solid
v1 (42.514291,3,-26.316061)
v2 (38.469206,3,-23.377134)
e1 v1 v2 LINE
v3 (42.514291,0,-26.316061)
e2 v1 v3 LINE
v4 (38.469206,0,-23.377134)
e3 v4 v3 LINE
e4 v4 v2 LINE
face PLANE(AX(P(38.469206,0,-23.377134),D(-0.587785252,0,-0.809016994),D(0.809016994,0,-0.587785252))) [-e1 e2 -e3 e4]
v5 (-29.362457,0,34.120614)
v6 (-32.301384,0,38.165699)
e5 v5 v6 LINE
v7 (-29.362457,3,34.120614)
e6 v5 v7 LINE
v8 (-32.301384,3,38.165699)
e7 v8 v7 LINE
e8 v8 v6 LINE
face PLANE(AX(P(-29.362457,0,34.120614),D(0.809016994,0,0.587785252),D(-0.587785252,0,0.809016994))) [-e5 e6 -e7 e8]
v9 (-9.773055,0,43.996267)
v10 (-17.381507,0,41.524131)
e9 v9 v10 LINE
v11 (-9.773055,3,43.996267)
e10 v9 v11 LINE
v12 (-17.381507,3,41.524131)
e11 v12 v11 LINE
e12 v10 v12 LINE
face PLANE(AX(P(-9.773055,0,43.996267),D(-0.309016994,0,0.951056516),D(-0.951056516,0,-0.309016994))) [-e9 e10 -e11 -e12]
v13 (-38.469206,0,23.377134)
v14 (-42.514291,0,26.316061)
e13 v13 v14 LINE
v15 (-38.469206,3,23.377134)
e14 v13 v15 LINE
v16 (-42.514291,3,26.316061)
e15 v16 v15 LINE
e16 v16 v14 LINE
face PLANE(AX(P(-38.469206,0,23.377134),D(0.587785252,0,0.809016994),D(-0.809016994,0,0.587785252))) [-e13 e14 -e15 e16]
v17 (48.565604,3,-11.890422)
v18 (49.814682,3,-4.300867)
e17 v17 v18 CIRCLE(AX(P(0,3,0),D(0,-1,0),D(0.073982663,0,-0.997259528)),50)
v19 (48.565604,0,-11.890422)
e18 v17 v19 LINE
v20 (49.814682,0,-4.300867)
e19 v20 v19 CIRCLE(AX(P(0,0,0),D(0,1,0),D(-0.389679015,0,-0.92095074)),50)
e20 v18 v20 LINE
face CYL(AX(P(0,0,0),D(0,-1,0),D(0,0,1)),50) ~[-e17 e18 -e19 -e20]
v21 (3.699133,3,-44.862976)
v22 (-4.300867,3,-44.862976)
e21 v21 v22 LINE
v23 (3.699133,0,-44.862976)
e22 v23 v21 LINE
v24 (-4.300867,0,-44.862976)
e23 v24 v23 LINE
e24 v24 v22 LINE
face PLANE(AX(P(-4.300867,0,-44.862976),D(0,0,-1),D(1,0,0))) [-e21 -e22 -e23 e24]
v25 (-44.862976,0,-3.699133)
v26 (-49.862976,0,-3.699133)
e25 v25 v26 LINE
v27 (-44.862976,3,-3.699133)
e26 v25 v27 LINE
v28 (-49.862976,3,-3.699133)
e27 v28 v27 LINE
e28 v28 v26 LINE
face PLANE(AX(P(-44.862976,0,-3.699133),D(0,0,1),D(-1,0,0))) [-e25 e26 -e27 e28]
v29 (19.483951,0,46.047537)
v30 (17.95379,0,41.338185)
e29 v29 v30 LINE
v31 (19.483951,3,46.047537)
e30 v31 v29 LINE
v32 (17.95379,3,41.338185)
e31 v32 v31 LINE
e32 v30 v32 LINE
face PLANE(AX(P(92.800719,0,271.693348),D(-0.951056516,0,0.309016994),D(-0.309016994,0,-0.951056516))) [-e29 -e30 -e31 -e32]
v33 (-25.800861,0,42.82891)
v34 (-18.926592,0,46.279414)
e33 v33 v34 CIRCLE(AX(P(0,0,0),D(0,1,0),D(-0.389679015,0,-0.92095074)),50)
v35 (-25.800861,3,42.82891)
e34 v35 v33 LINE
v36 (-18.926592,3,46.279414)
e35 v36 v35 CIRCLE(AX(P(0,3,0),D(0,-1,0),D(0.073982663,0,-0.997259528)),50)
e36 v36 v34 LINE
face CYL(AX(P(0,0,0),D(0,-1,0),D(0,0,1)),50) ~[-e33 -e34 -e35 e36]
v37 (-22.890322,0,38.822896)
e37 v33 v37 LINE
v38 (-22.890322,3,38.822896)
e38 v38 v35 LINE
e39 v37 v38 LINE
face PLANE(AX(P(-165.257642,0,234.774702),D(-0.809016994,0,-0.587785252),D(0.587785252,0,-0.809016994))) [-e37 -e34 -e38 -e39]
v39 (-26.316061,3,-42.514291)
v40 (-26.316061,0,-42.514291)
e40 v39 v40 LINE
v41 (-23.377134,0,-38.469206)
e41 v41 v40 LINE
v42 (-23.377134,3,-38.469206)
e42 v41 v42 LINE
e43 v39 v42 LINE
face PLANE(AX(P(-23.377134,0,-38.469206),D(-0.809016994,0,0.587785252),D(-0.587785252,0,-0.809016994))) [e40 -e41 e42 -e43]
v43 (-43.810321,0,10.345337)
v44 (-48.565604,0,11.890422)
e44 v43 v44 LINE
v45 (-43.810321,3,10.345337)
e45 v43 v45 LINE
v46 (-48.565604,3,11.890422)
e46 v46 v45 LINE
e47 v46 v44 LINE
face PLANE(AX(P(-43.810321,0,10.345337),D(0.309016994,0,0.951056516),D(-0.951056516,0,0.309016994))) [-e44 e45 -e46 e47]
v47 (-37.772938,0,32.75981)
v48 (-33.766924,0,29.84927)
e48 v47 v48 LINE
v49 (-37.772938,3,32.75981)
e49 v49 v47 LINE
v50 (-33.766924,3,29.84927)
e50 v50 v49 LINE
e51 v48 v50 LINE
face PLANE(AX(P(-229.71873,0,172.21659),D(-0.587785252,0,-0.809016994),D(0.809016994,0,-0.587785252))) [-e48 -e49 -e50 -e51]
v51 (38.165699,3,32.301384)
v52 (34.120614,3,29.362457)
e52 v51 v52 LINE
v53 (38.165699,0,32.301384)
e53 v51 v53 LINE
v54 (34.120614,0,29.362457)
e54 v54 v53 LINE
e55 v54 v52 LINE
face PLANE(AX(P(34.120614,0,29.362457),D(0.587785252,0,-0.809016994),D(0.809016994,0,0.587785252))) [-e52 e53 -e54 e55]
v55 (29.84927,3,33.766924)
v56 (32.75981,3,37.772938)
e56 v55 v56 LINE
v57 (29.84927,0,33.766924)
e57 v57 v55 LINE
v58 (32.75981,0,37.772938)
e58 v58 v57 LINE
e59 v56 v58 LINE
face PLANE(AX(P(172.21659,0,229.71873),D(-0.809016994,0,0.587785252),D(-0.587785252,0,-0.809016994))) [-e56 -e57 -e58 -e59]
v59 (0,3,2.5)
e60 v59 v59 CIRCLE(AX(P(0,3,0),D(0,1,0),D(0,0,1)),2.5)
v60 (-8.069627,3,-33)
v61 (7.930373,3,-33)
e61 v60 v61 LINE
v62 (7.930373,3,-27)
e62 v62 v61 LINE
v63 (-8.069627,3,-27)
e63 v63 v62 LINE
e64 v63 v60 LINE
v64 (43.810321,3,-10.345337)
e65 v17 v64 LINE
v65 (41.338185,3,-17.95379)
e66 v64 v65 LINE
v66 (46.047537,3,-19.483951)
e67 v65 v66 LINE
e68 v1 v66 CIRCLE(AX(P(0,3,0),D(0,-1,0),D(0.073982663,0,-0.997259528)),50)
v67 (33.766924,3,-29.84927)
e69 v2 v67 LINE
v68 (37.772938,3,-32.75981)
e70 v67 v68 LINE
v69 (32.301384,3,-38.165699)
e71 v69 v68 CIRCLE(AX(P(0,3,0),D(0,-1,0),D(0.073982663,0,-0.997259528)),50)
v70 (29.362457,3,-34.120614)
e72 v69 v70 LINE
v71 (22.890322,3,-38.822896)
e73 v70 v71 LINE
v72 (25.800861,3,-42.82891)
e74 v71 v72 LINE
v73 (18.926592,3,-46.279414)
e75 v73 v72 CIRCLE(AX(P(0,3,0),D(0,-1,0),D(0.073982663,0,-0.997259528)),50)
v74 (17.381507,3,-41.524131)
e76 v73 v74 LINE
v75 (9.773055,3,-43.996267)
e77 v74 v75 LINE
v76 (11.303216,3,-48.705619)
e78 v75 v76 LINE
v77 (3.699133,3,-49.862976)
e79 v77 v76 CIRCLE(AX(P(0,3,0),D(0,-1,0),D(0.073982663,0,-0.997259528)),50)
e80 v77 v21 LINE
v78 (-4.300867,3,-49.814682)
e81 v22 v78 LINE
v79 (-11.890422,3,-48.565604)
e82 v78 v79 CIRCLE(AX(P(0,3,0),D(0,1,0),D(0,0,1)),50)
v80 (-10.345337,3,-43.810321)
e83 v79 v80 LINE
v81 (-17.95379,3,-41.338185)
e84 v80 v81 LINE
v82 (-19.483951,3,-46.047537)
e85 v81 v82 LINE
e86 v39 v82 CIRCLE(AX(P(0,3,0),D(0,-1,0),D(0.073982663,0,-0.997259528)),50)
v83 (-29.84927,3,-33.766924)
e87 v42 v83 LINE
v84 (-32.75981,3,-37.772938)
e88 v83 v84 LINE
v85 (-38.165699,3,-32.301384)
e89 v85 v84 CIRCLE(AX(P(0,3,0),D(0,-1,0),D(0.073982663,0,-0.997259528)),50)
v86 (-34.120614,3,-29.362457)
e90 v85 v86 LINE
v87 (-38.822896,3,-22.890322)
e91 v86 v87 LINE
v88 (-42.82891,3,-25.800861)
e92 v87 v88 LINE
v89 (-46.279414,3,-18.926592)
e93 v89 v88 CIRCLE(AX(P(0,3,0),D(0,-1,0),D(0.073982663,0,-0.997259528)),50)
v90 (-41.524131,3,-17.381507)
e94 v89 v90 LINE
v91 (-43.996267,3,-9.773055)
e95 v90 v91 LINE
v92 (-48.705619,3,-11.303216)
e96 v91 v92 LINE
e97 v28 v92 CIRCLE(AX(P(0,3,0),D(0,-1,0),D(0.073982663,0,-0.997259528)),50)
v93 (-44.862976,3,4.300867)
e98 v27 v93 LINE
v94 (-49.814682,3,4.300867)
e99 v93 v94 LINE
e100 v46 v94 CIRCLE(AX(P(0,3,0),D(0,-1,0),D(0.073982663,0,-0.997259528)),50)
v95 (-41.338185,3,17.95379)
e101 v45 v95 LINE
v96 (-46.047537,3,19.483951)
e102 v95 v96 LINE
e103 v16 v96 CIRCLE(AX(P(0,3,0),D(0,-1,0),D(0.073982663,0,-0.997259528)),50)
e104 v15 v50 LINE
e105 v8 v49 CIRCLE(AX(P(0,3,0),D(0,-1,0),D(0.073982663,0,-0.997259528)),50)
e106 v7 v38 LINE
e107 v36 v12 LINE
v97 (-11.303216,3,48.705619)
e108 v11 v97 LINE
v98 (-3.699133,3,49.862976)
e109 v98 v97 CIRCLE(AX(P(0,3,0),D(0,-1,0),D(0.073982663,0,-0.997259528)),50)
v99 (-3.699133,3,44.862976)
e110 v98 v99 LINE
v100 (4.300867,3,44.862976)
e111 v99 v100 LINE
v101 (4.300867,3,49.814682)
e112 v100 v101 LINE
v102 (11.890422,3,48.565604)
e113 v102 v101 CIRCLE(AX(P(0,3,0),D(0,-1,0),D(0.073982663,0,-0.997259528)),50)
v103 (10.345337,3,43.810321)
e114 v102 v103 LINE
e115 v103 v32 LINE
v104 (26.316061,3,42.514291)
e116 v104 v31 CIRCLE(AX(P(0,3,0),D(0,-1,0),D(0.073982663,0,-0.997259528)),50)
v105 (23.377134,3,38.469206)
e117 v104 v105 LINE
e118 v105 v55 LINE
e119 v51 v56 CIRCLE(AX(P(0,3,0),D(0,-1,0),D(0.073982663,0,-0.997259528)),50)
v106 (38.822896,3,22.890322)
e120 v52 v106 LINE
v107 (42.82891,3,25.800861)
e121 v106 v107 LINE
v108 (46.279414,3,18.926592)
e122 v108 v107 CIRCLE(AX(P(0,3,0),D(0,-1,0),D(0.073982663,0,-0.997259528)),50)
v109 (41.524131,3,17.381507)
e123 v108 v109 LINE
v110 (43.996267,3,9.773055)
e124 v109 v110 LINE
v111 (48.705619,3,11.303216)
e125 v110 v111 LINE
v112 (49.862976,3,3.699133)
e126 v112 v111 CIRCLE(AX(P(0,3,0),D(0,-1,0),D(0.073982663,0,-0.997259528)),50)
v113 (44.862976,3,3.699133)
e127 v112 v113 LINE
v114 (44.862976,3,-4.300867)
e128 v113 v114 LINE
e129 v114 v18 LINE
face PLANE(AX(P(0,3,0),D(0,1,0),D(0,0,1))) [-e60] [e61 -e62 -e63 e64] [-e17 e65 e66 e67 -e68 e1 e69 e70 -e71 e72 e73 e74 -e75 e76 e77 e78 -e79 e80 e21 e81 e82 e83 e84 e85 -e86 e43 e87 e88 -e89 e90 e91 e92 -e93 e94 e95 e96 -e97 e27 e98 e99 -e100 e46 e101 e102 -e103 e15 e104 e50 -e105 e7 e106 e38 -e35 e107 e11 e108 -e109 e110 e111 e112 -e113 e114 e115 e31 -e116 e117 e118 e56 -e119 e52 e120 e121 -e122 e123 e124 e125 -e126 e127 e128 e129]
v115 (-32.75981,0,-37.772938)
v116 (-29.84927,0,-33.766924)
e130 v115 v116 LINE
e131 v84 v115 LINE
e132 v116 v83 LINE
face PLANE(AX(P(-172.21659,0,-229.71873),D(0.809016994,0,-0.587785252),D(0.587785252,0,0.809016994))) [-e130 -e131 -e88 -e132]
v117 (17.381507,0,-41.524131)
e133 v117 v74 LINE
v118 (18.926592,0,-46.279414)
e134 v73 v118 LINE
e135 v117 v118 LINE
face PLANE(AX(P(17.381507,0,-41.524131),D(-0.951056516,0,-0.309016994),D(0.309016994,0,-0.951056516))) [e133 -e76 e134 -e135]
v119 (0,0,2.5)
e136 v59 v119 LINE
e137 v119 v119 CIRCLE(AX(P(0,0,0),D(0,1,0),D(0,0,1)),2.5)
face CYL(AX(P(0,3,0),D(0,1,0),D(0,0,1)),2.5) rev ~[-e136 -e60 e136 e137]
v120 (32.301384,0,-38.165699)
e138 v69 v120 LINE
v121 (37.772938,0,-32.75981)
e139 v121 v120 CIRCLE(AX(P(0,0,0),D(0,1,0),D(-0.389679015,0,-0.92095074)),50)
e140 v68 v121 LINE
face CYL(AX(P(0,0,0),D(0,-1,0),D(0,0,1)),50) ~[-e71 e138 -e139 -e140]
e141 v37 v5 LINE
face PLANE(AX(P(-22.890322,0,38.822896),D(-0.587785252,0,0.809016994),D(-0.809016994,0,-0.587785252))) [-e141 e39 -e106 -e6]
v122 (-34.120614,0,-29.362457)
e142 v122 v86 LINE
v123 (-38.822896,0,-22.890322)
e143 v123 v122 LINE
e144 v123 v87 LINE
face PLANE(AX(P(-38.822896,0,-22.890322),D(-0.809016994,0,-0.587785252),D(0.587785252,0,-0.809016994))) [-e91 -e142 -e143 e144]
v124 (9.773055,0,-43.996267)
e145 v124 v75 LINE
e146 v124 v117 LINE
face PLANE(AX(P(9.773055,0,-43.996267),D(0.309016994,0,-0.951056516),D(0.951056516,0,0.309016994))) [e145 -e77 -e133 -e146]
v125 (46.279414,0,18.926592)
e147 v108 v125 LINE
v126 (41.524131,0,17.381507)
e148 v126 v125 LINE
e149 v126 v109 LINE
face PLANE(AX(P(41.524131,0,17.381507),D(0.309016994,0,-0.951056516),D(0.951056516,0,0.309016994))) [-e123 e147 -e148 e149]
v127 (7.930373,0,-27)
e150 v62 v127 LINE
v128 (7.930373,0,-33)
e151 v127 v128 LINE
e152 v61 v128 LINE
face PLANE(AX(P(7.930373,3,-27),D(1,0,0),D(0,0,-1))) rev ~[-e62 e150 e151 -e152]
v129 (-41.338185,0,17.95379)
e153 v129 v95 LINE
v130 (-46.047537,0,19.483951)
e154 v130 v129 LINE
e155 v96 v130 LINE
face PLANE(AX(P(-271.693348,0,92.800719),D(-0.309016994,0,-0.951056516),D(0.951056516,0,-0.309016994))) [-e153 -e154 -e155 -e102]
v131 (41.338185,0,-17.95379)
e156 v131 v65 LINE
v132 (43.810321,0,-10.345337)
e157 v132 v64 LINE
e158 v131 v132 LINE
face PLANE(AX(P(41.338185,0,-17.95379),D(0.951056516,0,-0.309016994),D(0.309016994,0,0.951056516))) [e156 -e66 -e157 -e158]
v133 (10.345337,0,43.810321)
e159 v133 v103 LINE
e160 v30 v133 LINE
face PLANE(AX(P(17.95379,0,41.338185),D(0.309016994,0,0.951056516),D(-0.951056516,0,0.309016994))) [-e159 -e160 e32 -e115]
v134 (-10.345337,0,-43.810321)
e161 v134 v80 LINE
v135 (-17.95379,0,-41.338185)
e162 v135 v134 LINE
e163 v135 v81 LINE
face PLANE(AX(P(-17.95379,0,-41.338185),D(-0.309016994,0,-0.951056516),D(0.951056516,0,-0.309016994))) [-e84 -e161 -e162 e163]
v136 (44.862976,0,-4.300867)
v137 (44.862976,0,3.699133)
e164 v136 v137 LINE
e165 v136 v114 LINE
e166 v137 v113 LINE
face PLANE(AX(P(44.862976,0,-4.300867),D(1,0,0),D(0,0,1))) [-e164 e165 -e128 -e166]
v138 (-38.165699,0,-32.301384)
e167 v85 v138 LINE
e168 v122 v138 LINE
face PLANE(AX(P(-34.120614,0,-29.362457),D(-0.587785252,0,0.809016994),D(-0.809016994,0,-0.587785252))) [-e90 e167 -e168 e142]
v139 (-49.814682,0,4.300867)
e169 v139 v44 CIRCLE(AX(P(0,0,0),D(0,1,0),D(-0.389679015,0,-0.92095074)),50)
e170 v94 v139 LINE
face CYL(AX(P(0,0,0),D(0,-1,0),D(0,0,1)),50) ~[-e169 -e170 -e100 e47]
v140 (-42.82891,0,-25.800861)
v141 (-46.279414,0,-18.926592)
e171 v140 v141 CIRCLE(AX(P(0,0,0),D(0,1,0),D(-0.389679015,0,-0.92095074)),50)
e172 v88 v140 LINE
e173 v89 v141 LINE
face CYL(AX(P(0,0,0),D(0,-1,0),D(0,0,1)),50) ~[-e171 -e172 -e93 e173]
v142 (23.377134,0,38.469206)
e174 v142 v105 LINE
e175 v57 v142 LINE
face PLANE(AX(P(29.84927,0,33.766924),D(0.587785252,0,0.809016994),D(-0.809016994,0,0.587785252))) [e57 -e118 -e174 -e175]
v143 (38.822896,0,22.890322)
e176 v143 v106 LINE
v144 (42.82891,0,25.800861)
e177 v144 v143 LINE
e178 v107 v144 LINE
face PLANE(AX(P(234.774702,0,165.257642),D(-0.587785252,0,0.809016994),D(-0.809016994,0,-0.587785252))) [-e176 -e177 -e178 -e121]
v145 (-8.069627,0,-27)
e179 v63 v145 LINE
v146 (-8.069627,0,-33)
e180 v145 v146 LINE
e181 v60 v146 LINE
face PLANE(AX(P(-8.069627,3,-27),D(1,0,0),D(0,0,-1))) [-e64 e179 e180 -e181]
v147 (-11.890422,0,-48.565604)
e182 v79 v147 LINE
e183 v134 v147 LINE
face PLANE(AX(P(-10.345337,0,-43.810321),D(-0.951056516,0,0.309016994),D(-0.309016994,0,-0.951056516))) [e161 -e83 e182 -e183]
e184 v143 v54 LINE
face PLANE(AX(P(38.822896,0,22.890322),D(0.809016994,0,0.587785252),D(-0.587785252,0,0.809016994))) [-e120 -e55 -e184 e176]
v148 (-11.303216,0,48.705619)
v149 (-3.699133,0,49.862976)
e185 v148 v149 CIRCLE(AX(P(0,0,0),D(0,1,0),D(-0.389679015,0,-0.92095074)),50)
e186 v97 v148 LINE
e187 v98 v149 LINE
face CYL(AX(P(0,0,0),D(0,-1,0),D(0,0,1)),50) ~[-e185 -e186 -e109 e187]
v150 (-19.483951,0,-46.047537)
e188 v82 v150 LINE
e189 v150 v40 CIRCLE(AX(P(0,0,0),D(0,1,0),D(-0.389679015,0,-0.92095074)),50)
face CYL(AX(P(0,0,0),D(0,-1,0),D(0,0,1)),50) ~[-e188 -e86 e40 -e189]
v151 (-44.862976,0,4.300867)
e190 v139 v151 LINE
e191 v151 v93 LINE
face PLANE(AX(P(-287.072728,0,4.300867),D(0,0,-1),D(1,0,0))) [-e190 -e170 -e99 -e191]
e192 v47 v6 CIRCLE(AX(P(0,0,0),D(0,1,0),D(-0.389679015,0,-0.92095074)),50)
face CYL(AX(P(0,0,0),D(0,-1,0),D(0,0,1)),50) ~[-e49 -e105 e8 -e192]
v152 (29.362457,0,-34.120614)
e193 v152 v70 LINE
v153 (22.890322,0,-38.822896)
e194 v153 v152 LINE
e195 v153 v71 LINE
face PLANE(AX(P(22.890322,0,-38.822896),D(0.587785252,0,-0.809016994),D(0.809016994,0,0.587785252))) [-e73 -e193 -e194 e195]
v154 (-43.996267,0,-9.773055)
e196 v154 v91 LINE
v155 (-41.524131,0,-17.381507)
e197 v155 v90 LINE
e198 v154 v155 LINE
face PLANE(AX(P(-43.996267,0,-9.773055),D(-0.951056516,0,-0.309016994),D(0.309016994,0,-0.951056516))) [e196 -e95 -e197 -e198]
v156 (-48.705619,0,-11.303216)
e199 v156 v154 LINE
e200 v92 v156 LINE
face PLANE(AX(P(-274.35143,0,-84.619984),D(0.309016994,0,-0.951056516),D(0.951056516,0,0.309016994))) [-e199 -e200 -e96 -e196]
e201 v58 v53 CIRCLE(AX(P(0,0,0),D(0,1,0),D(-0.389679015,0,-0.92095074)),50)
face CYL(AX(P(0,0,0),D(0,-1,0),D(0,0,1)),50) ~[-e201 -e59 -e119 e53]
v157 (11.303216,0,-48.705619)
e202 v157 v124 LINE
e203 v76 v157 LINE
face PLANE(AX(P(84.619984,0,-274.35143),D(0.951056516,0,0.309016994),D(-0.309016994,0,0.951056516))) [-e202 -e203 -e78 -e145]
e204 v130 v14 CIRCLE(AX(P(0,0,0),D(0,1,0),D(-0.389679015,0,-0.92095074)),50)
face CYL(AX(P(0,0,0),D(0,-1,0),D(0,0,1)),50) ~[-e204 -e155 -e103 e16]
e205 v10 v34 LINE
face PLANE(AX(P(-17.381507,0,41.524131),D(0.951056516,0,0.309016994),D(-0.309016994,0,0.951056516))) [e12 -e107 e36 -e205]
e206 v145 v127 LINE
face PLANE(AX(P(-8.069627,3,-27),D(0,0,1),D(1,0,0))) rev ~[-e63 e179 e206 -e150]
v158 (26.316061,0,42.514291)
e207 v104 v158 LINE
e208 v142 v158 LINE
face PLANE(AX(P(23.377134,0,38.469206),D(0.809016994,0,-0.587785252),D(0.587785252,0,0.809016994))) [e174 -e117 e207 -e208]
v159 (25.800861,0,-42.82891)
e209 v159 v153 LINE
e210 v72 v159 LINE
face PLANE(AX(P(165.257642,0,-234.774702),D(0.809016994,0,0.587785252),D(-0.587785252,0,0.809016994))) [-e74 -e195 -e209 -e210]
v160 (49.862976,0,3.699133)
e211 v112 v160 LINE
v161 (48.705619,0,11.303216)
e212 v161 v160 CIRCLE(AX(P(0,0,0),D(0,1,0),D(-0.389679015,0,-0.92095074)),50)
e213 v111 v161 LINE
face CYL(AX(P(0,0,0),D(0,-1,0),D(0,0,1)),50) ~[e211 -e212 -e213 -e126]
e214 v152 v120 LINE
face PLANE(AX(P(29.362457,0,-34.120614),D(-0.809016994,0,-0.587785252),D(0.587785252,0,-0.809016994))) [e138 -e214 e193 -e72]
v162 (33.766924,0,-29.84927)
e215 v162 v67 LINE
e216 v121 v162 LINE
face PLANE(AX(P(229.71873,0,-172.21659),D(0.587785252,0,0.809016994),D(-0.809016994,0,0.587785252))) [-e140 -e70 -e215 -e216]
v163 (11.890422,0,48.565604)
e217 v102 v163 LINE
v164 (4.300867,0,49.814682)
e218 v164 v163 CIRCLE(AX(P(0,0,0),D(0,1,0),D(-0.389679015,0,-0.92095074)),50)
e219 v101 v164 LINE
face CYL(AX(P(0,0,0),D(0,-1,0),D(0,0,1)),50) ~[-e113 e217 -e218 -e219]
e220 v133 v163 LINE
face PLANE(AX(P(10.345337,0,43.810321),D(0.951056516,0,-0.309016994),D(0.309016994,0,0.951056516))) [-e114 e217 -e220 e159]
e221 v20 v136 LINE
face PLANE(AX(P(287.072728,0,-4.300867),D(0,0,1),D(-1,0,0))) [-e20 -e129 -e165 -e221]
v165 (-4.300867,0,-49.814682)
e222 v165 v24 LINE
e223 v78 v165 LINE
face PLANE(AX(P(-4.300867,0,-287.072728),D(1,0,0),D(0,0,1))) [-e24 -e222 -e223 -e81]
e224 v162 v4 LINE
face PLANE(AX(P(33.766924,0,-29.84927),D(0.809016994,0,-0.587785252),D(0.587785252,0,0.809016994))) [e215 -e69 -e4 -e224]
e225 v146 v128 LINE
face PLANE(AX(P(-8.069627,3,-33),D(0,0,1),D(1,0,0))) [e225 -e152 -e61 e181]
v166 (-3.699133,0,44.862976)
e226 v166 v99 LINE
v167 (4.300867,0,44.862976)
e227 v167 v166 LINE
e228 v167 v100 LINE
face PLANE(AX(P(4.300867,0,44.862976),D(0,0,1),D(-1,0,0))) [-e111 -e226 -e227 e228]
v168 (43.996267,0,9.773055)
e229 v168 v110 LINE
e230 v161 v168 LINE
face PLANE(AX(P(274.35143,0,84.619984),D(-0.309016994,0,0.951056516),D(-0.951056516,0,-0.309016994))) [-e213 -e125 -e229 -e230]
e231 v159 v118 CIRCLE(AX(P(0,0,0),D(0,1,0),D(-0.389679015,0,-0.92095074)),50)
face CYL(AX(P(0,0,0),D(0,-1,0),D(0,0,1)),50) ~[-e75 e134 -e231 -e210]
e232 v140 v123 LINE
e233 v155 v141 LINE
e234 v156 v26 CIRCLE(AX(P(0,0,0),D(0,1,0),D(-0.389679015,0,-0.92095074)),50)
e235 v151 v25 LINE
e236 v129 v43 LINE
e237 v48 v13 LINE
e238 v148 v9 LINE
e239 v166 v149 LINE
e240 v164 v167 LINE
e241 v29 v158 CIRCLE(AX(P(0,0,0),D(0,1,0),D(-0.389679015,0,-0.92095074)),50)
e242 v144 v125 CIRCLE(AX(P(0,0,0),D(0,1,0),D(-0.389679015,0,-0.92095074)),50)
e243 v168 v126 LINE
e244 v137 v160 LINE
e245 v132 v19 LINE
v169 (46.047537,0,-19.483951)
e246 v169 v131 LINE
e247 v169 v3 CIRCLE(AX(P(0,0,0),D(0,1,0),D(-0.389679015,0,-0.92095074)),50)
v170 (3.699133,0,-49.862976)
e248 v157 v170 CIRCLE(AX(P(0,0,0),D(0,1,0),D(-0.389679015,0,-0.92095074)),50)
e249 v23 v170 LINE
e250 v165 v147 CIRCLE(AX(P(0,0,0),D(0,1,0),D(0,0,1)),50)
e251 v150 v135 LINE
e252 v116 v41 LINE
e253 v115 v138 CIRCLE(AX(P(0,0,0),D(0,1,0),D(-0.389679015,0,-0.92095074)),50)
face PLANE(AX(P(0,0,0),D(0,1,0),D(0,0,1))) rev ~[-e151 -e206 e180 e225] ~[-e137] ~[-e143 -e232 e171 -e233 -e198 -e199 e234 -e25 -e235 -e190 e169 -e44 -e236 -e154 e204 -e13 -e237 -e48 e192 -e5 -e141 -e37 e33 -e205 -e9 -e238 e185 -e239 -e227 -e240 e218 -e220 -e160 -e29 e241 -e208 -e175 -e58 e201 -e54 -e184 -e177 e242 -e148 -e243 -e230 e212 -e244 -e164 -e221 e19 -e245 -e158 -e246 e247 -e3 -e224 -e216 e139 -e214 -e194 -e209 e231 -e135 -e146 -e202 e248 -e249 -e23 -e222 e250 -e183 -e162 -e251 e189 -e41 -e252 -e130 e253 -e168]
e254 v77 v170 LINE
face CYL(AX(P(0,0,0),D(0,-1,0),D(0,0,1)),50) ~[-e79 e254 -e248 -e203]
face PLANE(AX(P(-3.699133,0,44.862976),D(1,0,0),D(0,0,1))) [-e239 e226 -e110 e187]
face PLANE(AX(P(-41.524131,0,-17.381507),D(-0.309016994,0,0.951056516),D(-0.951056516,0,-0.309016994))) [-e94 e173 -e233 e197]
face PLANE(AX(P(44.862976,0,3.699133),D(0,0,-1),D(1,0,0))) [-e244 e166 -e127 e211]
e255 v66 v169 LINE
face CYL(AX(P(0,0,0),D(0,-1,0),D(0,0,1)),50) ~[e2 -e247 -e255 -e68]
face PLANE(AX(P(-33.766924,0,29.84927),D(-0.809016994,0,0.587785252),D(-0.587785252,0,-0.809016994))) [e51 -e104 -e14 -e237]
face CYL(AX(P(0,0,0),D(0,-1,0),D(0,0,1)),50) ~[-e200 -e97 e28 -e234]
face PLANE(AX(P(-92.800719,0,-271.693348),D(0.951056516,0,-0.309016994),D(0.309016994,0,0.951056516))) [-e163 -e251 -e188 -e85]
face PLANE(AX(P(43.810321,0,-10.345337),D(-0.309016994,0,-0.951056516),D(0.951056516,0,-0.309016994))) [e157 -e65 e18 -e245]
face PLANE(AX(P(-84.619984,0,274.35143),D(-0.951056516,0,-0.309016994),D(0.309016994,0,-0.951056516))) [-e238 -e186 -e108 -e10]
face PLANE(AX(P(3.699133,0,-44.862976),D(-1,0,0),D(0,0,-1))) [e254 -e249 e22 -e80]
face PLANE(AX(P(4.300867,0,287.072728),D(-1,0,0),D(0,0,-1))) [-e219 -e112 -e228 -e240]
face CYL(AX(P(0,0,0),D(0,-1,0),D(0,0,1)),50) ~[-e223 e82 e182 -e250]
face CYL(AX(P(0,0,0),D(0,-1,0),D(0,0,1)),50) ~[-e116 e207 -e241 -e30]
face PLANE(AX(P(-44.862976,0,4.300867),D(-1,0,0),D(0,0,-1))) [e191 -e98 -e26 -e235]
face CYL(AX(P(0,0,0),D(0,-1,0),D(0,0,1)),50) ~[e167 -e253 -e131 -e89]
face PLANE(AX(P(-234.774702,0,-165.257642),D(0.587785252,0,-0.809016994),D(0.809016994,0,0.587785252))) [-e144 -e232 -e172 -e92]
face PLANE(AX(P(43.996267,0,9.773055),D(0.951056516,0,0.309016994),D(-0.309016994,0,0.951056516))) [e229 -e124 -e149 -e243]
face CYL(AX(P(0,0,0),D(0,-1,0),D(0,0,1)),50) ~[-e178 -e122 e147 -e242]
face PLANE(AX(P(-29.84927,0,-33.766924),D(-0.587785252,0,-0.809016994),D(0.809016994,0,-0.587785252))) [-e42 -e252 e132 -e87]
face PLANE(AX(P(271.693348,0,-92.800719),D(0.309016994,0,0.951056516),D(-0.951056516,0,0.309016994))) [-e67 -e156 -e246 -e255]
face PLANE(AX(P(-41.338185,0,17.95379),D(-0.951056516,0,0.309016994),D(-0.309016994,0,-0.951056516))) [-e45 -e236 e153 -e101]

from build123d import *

# Parameters (mm, degrees)
SKETCH1_R           = 50
BOSS_EXTRUDE3_DEPTH = 3
SKETCH7_R           = 2.5
CUT_EXTRUDE1_DEPTH  = 3
CUT_EXTRUDE4_START  = -3
CUT_EXTRUDE4_DEPTH  = 74.774289117
CIRPATTERN5_COUNT   = 20
SKETCH9_W           = 16
SKETCH9_H           = 6
CUT_EXTRUDE5_DEPTH  = 3


with BuildPart() as part:
    # Sketch1 → Boss-Extrude3 (new body)
    with BuildSketch(Plane(origin=(0, 0, 0), x_dir=(1, 0, 0), z_dir=(0, 1, 0))):
        with Locations(Location((0, 0, 0), (0, 0, 270))):
            Circle(SKETCH1_R)
    extrude(amount=BOSS_EXTRUDE3_DEPTH)

    # Sketch7 → Cut-Extrude1 (cut)
    with BuildSketch(Plane(origin=(0, 3, 0), x_dir=(1, 0, 0), z_dir=(0, 1, 0))):
        with Locations(Location((0, 0, 0), (0, 0, 270))):
            Circle(SKETCH7_R)
    extrude(amount=-CUT_EXTRUDE1_DEPTH, mode=Mode.SUBTRACT)

    # Sketch8 → Cut-Extrude4 (cut)
    with BuildSketch(Plane(origin=(0, 3, 0), x_dir=(1, 0, 0), z_dir=(0, 1, 0)).offset(CUT_EXTRUDE4_START)):
        Polygon((-4.300866829, 287.072728165), (-4.300866829, 49.814682018), (-4.300866829, 44.862976383), (3.699133171, 44.862976383), (3.699133171, 49.862976383), (3.699133171, 287.12102253), (0.83462867, 761.628468689), (-7.16537133, 761.580174324), align=None)
    cut_extrude4 = extrude(amount=CUT_EXTRUDE4_DEPTH, mode=Mode.SUBTRACT)

    # CirPattern5: Cut-Extrude4 ×20 about axis
    cirpattern5_axis = Axis((0, 3, 0), (0, 1, 0))
    for i in range(1, CIRPATTERN5_COUNT):
        add(cut_extrude4.rotate(cirpattern5_axis, i * 360 / CIRPATTERN5_COUNT), mode=Mode.SUBTRACT)

    # Sketch9 → Cut-Extrude5 (cut)
    with BuildSketch(Plane(origin=(0, 3, 0), x_dir=(1, 0, 0), z_dir=(0, 1, 0))):
        with Locations((-0.069626974, 30)):
            Rectangle(SKETCH9_W, SKETCH9_H)
    extrude(amount=-CUT_EXTRUDE5_DEPTH, mode=Mode.SUBTRACT)


solid = part.part
